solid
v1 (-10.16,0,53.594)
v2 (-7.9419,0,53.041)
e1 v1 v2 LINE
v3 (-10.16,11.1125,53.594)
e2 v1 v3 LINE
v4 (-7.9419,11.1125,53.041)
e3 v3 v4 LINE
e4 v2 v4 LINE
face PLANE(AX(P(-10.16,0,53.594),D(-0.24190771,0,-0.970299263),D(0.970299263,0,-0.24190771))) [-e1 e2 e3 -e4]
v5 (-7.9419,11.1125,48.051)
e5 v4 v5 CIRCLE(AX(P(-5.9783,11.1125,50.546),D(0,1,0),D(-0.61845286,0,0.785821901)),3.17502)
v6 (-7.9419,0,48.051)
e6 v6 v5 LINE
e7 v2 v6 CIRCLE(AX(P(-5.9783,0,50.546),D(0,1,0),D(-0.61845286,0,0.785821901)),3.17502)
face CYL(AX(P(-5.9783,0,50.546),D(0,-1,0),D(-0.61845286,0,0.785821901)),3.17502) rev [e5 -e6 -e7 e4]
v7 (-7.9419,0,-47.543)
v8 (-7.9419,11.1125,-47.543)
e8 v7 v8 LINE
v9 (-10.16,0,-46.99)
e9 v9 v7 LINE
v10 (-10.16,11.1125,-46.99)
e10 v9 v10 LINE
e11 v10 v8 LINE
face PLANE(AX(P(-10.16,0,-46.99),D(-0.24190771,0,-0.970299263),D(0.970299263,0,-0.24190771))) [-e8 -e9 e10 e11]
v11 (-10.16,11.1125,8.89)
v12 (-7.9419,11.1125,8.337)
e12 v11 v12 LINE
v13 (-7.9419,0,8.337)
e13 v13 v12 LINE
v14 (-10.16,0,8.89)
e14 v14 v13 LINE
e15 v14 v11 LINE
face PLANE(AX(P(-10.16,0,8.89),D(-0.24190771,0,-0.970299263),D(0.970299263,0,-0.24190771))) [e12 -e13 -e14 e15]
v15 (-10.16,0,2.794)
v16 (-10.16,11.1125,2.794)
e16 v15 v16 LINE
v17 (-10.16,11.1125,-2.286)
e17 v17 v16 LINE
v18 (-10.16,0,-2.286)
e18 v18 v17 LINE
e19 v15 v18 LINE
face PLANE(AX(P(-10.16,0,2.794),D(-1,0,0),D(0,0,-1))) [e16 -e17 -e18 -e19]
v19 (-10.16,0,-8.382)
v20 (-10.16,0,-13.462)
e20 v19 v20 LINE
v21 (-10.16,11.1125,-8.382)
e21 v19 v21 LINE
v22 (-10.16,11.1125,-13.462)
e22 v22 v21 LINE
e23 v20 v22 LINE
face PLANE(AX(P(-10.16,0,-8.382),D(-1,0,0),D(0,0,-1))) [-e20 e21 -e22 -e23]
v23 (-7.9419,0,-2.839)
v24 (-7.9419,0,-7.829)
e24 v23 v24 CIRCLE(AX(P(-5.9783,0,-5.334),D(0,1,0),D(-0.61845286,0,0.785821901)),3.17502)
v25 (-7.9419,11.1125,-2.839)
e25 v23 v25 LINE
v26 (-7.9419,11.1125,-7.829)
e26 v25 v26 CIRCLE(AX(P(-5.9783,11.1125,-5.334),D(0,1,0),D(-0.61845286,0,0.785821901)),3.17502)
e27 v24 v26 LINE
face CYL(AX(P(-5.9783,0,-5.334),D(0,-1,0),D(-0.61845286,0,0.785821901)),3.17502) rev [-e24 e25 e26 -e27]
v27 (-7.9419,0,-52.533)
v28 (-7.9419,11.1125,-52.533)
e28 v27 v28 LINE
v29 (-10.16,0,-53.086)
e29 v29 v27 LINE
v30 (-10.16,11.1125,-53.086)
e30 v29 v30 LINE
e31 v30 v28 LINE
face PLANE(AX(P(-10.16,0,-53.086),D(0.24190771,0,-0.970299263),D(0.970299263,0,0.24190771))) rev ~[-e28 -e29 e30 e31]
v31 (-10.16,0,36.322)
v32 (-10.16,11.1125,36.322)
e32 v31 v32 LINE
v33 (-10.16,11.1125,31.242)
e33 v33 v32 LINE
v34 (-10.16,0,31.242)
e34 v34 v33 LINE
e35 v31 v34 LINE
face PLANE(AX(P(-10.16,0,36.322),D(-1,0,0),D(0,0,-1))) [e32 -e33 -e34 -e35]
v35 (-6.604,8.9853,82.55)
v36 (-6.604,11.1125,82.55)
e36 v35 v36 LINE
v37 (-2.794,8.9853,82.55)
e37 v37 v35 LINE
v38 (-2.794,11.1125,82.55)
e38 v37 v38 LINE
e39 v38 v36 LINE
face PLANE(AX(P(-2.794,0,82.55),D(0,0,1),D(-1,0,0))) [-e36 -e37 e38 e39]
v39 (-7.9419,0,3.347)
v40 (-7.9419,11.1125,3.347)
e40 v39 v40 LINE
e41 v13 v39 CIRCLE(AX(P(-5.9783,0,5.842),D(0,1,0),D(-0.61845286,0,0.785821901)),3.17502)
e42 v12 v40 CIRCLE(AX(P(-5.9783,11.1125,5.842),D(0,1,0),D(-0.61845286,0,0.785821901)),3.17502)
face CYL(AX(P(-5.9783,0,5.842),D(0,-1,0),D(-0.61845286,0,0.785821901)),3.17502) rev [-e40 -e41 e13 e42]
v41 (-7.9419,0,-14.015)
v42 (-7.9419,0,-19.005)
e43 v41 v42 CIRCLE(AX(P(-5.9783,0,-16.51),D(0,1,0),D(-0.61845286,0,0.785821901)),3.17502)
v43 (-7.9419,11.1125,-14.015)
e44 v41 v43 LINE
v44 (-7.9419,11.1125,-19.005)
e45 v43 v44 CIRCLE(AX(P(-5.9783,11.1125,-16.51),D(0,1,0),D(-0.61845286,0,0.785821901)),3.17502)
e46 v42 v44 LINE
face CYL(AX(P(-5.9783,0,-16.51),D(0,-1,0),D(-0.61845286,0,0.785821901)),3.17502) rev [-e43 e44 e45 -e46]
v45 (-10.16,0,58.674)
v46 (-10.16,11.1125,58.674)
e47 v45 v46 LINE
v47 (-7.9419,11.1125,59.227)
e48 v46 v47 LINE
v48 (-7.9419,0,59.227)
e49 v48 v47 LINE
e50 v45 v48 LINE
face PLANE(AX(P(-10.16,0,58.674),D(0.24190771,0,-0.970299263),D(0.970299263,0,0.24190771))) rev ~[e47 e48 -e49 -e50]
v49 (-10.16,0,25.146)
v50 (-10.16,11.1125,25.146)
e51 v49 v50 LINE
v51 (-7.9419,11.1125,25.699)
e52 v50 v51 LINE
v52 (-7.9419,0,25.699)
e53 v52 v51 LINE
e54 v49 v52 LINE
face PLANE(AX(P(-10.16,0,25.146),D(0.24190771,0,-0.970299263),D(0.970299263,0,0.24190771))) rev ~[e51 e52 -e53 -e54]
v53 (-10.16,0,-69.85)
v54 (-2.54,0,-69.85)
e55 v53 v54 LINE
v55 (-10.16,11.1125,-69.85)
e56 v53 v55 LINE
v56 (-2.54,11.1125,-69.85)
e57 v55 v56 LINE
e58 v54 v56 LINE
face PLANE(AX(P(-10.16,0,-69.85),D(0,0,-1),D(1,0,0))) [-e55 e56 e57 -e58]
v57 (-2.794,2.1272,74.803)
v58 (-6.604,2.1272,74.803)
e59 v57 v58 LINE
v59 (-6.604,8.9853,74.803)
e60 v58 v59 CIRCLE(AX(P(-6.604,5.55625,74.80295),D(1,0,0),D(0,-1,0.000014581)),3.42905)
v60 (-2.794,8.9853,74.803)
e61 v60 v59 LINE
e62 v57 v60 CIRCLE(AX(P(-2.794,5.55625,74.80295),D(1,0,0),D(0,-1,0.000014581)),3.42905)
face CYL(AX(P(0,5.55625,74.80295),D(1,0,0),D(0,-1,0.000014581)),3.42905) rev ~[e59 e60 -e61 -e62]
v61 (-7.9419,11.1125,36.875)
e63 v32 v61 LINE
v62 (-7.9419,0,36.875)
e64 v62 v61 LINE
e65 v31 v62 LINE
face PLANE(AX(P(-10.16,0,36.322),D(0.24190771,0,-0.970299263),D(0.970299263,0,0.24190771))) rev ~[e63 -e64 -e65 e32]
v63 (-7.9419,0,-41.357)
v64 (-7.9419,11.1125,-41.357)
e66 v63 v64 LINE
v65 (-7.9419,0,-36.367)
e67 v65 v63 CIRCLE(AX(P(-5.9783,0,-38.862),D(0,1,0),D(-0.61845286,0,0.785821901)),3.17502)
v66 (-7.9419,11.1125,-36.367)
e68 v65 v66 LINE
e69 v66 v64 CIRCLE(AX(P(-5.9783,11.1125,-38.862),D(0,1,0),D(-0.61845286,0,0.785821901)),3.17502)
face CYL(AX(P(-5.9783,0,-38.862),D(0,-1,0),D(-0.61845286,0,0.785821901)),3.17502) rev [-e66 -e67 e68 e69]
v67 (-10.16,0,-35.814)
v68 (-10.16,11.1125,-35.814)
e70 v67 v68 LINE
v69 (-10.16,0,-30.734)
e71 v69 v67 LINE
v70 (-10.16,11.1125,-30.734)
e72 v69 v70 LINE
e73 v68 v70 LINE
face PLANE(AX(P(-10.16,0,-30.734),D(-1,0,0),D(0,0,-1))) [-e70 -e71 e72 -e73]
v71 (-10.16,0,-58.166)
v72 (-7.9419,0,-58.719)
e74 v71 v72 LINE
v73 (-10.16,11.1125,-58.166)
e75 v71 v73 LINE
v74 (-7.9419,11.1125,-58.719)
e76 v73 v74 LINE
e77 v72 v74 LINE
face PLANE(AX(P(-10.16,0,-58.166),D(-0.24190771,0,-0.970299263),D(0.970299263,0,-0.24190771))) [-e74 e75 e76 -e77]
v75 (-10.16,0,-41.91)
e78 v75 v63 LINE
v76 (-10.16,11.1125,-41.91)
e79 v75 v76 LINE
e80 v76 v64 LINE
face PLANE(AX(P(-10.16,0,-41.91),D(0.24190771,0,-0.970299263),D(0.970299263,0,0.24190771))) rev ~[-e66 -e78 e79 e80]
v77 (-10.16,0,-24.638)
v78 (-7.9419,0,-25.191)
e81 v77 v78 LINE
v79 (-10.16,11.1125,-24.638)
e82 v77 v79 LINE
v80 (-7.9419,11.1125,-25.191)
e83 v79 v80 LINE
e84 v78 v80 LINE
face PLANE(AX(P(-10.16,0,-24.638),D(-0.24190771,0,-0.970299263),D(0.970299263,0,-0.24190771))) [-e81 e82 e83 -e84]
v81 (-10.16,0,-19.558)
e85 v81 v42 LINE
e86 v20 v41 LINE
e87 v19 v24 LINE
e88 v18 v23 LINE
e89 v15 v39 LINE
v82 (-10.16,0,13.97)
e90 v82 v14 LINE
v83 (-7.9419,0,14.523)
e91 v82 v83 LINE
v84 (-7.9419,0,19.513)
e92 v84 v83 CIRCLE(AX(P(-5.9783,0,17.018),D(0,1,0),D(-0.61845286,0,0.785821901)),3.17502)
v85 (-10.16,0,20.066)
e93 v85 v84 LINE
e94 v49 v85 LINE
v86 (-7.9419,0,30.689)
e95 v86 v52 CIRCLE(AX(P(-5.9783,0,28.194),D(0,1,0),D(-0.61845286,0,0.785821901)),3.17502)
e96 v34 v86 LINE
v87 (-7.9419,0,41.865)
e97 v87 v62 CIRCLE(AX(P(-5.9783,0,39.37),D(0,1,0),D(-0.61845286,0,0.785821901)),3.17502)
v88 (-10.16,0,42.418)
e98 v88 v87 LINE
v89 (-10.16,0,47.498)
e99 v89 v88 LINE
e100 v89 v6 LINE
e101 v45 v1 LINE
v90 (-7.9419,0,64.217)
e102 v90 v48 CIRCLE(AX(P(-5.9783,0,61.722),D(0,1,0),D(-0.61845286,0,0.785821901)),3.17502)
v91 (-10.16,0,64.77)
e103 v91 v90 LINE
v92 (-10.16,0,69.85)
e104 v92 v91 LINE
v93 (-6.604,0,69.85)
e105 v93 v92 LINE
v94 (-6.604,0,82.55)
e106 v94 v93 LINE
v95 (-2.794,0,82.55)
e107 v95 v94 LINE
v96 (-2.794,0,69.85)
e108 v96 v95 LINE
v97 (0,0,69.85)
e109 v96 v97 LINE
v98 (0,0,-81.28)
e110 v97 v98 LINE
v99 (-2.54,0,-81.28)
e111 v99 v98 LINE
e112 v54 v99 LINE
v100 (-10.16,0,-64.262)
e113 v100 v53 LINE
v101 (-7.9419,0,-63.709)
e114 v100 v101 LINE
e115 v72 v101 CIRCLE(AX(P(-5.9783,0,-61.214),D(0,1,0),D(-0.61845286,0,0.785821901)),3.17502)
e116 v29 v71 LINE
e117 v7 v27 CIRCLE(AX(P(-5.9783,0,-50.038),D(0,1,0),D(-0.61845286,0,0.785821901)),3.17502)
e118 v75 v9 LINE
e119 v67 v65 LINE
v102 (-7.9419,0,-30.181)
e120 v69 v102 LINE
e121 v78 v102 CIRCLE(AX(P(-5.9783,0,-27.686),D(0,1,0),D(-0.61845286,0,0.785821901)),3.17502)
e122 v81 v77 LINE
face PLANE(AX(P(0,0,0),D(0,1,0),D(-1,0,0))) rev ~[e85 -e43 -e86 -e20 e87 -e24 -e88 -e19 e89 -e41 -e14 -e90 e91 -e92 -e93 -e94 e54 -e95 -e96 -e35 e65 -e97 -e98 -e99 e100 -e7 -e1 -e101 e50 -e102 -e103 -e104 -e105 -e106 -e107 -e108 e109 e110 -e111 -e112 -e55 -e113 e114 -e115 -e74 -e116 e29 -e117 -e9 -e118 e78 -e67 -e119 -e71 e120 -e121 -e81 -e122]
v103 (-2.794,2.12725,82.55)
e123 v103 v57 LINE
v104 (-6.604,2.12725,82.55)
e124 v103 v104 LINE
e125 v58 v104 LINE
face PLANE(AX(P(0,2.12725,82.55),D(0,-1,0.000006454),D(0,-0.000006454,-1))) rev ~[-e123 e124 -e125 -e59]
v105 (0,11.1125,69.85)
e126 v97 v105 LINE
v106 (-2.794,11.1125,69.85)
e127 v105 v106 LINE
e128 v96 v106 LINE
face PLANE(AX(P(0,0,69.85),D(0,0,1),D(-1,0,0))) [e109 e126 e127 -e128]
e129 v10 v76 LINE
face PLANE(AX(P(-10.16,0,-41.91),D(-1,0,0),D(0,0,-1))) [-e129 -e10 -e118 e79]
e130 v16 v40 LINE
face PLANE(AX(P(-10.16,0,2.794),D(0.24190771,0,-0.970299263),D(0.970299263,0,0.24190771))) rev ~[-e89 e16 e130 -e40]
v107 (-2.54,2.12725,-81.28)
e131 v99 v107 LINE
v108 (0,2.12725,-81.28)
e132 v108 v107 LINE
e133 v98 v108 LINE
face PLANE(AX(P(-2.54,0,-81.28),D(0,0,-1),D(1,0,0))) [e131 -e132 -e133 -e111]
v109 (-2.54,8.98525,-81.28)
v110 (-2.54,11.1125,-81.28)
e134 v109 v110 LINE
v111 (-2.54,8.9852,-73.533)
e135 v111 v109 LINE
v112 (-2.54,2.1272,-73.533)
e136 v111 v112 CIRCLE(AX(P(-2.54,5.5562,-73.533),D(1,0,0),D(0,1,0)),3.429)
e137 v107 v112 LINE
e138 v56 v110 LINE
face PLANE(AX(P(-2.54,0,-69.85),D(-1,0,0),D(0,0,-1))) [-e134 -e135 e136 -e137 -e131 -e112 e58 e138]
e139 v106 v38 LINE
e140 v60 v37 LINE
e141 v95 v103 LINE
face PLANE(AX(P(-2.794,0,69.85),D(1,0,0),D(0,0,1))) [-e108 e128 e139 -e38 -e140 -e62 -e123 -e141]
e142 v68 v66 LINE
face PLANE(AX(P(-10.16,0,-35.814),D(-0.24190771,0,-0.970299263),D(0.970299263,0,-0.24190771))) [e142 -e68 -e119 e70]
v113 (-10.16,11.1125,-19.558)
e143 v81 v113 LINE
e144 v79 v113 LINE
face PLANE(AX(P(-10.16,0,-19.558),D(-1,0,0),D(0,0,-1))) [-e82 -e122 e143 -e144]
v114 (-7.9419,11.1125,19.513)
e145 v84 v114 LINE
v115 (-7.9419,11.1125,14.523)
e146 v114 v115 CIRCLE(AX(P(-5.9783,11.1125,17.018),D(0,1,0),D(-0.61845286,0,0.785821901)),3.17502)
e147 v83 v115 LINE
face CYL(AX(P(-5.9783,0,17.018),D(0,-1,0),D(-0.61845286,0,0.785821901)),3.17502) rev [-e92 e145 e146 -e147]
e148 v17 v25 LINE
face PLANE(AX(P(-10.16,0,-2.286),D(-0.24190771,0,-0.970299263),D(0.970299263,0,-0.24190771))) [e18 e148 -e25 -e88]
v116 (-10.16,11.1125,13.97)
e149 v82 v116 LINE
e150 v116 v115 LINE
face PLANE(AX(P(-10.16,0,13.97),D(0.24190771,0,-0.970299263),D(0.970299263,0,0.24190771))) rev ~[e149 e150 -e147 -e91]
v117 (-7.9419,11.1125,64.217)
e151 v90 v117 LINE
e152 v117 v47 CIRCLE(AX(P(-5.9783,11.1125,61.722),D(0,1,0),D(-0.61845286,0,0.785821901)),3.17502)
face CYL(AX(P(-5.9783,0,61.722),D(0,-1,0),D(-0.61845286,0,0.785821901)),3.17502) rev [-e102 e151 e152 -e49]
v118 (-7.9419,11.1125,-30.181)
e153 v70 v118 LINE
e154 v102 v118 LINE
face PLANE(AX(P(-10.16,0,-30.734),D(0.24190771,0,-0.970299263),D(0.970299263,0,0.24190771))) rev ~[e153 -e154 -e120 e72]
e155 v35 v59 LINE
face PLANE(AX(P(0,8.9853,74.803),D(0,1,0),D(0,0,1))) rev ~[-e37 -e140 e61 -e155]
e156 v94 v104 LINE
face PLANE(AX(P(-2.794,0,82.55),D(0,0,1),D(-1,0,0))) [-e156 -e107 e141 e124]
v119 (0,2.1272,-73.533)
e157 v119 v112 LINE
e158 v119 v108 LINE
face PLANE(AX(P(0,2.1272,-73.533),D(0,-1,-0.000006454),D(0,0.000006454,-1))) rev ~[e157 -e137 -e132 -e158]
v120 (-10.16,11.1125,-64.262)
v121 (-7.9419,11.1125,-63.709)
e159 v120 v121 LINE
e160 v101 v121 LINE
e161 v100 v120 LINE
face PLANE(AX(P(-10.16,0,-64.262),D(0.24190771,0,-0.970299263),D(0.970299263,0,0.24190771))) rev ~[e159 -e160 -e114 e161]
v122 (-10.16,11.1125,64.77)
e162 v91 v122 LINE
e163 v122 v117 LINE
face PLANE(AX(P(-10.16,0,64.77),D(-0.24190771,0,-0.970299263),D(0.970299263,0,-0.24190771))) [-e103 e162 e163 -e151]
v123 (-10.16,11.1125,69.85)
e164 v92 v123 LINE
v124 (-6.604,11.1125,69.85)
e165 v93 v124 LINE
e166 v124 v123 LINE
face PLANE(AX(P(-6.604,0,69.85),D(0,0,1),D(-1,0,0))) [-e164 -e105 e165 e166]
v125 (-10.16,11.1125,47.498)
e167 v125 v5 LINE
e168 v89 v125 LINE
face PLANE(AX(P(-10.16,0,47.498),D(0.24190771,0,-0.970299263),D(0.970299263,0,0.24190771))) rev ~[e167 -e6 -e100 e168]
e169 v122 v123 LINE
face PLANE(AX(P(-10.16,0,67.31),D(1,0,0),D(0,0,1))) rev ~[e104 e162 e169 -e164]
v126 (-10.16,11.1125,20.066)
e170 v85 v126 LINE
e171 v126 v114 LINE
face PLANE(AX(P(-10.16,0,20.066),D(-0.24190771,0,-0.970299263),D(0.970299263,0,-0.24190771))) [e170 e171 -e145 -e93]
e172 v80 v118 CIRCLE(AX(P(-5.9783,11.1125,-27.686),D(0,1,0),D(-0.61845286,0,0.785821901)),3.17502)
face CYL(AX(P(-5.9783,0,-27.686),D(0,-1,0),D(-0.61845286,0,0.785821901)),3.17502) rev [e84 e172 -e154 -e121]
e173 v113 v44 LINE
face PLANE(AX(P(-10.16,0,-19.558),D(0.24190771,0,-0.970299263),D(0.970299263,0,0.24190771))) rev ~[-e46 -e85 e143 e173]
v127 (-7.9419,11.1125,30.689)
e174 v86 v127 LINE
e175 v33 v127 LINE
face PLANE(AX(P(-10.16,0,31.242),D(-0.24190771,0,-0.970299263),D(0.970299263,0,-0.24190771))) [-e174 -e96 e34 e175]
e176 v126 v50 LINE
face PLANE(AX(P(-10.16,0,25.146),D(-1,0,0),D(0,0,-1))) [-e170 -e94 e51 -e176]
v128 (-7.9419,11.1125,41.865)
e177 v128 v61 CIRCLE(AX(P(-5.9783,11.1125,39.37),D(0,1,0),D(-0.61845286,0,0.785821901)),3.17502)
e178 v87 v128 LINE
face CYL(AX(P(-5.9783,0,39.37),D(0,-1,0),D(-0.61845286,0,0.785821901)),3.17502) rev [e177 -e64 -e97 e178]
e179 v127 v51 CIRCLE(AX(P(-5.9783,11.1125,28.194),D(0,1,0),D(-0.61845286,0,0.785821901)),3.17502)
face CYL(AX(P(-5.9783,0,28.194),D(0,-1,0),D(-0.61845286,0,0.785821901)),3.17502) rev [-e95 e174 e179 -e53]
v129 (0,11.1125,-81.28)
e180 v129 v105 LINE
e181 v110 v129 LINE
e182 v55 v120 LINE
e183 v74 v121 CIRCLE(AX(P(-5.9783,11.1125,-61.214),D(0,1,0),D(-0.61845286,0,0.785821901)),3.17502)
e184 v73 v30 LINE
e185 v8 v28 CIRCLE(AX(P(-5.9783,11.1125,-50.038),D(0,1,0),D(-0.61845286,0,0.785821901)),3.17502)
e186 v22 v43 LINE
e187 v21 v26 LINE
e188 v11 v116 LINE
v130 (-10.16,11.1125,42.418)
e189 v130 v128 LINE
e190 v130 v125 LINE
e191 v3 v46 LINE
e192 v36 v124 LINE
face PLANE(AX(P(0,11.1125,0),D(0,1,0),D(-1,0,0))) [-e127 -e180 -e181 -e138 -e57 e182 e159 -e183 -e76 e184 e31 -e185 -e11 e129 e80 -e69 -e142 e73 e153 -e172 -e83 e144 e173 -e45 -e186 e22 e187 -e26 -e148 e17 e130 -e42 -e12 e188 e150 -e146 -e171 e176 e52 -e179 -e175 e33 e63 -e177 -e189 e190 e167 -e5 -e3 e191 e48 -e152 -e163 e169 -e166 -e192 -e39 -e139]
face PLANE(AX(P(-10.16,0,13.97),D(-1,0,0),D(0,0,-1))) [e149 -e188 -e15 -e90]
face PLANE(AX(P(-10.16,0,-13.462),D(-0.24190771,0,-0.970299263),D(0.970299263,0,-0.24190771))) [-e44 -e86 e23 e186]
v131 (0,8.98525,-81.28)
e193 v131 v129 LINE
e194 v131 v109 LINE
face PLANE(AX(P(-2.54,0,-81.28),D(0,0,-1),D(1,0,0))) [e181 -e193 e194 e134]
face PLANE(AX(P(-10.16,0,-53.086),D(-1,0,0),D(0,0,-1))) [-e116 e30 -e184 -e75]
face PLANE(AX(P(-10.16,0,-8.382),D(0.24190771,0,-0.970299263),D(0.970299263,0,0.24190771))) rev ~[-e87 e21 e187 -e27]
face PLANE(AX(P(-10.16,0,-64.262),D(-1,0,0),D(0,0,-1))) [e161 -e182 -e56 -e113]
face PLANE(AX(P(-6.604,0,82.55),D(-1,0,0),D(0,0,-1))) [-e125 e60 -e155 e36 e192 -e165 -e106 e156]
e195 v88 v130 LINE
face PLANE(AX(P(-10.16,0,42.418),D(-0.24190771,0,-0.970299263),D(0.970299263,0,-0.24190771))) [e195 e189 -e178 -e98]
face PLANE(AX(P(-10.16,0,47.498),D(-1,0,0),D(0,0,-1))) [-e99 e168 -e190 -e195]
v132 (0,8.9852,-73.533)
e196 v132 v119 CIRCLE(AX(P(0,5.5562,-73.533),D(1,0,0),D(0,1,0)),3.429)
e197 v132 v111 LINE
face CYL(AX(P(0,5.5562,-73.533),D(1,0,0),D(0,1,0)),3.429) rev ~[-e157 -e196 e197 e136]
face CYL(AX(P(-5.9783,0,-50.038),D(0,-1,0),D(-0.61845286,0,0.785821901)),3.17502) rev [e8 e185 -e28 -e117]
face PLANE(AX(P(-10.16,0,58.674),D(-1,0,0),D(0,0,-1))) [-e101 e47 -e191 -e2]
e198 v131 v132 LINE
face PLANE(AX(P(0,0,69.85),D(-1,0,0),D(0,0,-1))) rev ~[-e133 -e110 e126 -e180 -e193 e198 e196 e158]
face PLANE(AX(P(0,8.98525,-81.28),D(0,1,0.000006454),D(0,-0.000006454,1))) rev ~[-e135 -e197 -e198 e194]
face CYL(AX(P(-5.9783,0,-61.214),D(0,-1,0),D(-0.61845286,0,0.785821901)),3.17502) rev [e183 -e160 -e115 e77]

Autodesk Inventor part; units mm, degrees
ref_plane "YZ Plane" through (0, 0, 0) normal (1, 0, 0) x (0, 1, 0)
ref_plane "XZ Plane" through (0, 0, 0) normal (0, 1, 0) x (-1, 0, 0)
ref_plane "XY Plane" through (0, 0, 0) normal (0, 0, 1) x (1, 0, 0)
sketch "Sketch1" plane through (0, 0, 0) normal (0, 1, 0) x (-1, 0, 0)
  line L0 (0, 69.85) -> (0, -69.85)
  line L1 (2.54, 69.85) -> (10.16, 69.85)
  line L2 (10.16, 67.31) -> (10.16, 64.77)
  line L3 (10.16, 64.77) -> (7.9419, 64.217)
  line L4 (10.16, 58.674) -> (7.9419, 59.227)
  arc A0 (7.9419, 64.217) -> (7.9419, 59.227) centre (5.9783, 61.722) ccw
  line L5 (0, 69.85) -> (2.54, 69.85)
  line L6 (6.604, 69.85) -> (2.794, 69.85)
  line L7 (2.794, 69.85) -> (2.794, 82.55)
  line L8 (2.794, 82.55) -> (6.604, 82.55)
  line L9 (6.604, 82.55) -> (6.604, 69.85)
  line L10 (2.54, -69.85) -> (2.54, -81.28)
  line L11 (2.54, -81.28) -> (0, -81.28)
  line L12 (0, -81.28) -> (0, -69.85)
  line L13 (5.9783, 61.722) -> (7.9419, 61.722) construction
  line L14 (7.9419, 61.722) -> (7.9419, 59.227) construction
  line L15 (7.9419, 61.722) -> (7.9419, 64.217) construction
  line L16 (10.16, 67.31) -> (10.16, 69.85)
  line L17 (10.16, -66.802) -> (10.16, -69.85)
  line L18 (10.16, -69.85) -> (2.54, -69.85)
  line L19 (10.16, 58.674) -> (10.16, 56.134)
  line L20 (10.16, 56.134) -> (10.16, 53.594)
  line L21 (10.16, 53.594) -> (7.9419, 53.041)
  line L22 (7.9419, 50.546) -> (7.9419, 53.041) construction
  arc A1 (7.9419, 53.041) -> (7.9419, 48.051) centre (5.9783, 50.546) ccw
  line L23 (7.9419, 50.546) -> (7.9419, 48.051) construction
  line L24 (10.16, 47.498) -> (7.9419, 48.051)
  line L25 (10.16, 47.498) -> (10.16, 44.958)
  line L26 (5.9783, 50.546) -> (7.9419, 50.546) construction
  line L27 (10.16, 44.958) -> (10.16, 42.418)
  line L28 (10.16, 42.418) -> (7.9419, 41.865)
  line L29 (7.9419, 39.37) -> (7.9419, 41.865) construction
  arc A2 (7.9419, 41.865) -> (7.9419, 36.875) centre (5.9783, 39.37) ccw
  line L30 (7.9419, 39.37) -> (7.9419, 36.875) construction
  line L31 (10.16, 36.322) -> (7.9419, 36.875)
  line L32 (10.16, 36.322) -> (10.16, 33.782)
  line L33 (5.9783, 39.37) -> (7.9419, 39.37) construction
  line L34 (10.16, 33.782) -> (10.16, 31.242)
  line L35 (10.16, 31.242) -> (7.9419, 30.689)
  line L36 (7.9419, 28.194) -> (7.9419, 30.689) construction
  arc A3 (7.9419, 30.689) -> (7.9419, 25.699) centre (5.9783, 28.194) ccw
  line L37 (7.9419, 28.194) -> (7.9419, 25.699) construction
  line L38 (10.16, 25.146) -> (7.9419, 25.699)
  line L39 (10.16, 25.146) -> (10.16, 22.606)
  line L40 (5.9783, 28.194) -> (7.9419, 28.194) construction
  line L41 (10.16, 22.606) -> (10.16, 20.066)
  line L42 (10.16, 20.066) -> (7.9419, 19.513)
  line L43 (7.9419, 17.018) -> (7.9419, 19.513) construction
  arc A4 (7.9419, 19.513) -> (7.9419, 14.523) centre (5.9783, 17.018) ccw
  line L44 (7.9419, 17.018) -> (7.9419, 14.523) construction
  line L45 (10.16, 13.97) -> (7.9419, 14.523)
  line L46 (10.16, 13.97) -> (10.16, 11.43)
  line L47 (5.9783, 17.018) -> (7.9419, 17.018) construction
  line L48 (10.16, 11.43) -> (10.16, 8.89)
  line L49 (10.16, 8.89) -> (7.9419, 8.337)
  line L50 (7.9419, 5.842) -> (7.9419, 8.337) construction
  arc A5 (7.9419, 8.337) -> (7.9419, 3.347) centre (5.9783, 5.842) ccw
  line L51 (7.9419, 5.842) -> (7.9419, 3.347) construction
  line L52 (10.16, 2.794) -> (7.9419, 3.347)
  line L53 (10.16, 2.794) -> (10.16, 0.254)
  line L54 (5.9783, 5.842) -> (7.9419, 5.842) construction
  line L55 (10.16, 0.254) -> (10.16, -2.286)
  line L56 (10.16, -2.286) -> (7.9419, -2.839)
  line L57 (7.9419, -5.334) -> (7.9419, -2.839) construction
  arc A6 (7.9419, -2.839) -> (7.9419, -7.829) centre (5.9783, -5.334) ccw
  line L58 (7.9419, -5.334) -> (7.9419, -7.829) construction
  line L59 (10.16, -8.382) -> (7.9419, -7.829)
  line L60 (10.16, -8.382) -> (10.16, -10.922)
  line L61 (5.9783, -5.334) -> (7.9419, -5.334) construction
  line L62 (10.16, -10.922) -> (10.16, -13.462)
  line L63 (10.16, -13.462) -> (7.9419, -14.015)
  line L64 (7.9419, -16.51) -> (7.9419, -14.015) construction
  arc A7 (7.9419, -14.015) -> (7.9419, -19.005) centre (5.9783, -16.51) ccw
  line L65 (7.9419, -16.51) -> (7.9419, -19.005) construction
  line L66 (10.16, -19.558) -> (7.9419, -19.005)
  line L67 (10.16, -19.558) -> (10.16, -22.098)
  line L68 (5.9783, -16.51) -> (7.9419, -16.51) construction
  line L69 (10.16, -22.098) -> (10.16, -24.638)
  line L70 (10.16, -24.638) -> (7.9419, -25.191)
  line L71 (7.9419, -27.686) -> (7.9419, -25.191) construction
  arc A8 (7.9419, -25.191) -> (7.9419, -30.181) centre (5.9783, -27.686) ccw
  line L72 (7.9419, -27.686) -> (7.9419, -30.181) construction
  line L73 (10.16, -30.734) -> (7.9419, -30.181)
  line L74 (10.16, -30.734) -> (10.16, -33.274)
  line L75 (5.9783, -27.686) -> (7.9419, -27.686) construction
  line L76 (10.16, -33.274) -> (10.16, -35.814)
  line L77 (10.16, -35.814) -> (7.9419, -36.367)
  line L78 (7.9419, -38.862) -> (7.9419, -36.367) construction
  arc A9 (7.9419, -36.367) -> (7.9419, -41.357) centre (5.9783, -38.862) ccw
  line L79 (7.9419, -38.862) -> (7.9419, -41.357) construction
  line L80 (10.16, -41.91) -> (7.9419, -41.357)
  line L81 (10.16, -41.91) -> (10.16, -44.45)
  line L82 (5.9783, -38.862) -> (7.9419, -38.862) construction
  line L83 (10.16, -44.45) -> (10.16, -46.99)
  line L84 (10.16, -46.99) -> (7.9419, -47.543)
  line L85 (7.9419, -50.038) -> (7.9419, -47.543) construction
  arc A10 (7.9419, -47.543) -> (7.9419, -52.533) centre (5.9783, -50.038) ccw
  line L86 (7.9419, -50.038) -> (7.9419, -52.533) construction
  line L87 (10.16, -53.086) -> (7.9419, -52.533)
  line L88 (10.16, -53.086) -> (10.16, -55.626)
  line L89 (5.9783, -50.038) -> (7.9419, -50.038) construction
  line L90 (10.16, -55.626) -> (10.16, -58.166)
  line L91 (10.16, -58.166) -> (7.9419, -58.719)
  line L92 (7.9419, -61.214) -> (7.9419, -58.719) construction
  arc A11 (7.9419, -58.719) -> (7.9419, -63.709) centre (5.9783, -61.214) ccw
  line L93 (7.9419, -61.214) -> (7.9419, -63.709) construction
  line L94 (10.16, -64.262) -> (7.9419, -63.709)
  line L95 (10.16, -64.262) -> (10.16, -66.802)
  line L96 (5.9783, -61.214) -> (7.9419, -61.214) construction
  point P0 (0, 0)
  point P1 (2.794, 69.85)
  dimension "d1" = 7.62
  dimension "d5" = 104
  dimension "d7" = 3.175
  dimension "d8" = 2.286
  dimension "d12" = 2.54
  dimension "d27" = 12.7
  dimension "d28" = 3.81
  dimension "d29" = 2.794
  dimension "d66" = 139.7
  dimension "d67" = 69.85
  dimension "d76" = 10.16
  dimension "d77" = 2.54
  dimension "d87" = 11.43
  dimension "d88" = 2.54
  dimension "d89" = 4.9899
  dimension "d90" = 2.54
  dimension "d91" = 11.176
  dimension "d94" = 11.176
extrude "Extrusion1" add sketch "Sketch1" along normal blind 11.1125
sketch "Sketch3" plane through (0, 0, 69.85) normal (1, 0, 0) x (0, 0, -1)
  line L0 (158.877, 5.5563) -> (143.383, 5.5562) construction
  line L1 (158.877, 8.9853) -> (143.383, 8.9852)
  line L2 (143.383, 2.1272) -> (158.877, 2.1273)
  arc A0 (158.877, 2.1273) -> (158.877, 8.9853) centre (158.877, 5.5563) ccw
  arc A1 (143.383, 8.9852) -> (143.383, 2.1272) centre (143.383, 5.5562) ccw
  line L3 (151.13, 0) -> (151.13, 11.1125) projected
  line L4 (0, 11.1125) -> (151.13, 11.1125) projected
  line L5 (-20.447, 5.5563) -> (-4.953, 5.5563) construction
  line L6 (-20.447, 2.1273) -> (-4.953, 2.1272)
  line L7 (-4.953, 8.9853) -> (-20.447, 8.9853)
  arc A2 (-20.447, 8.9853) -> (-20.447, 2.1273) centre (-20.447, 5.5563) ccw
  arc A3 (-4.953, 2.1272) -> (-4.953, 8.9853) centre (-4.953, 5.5563) ccw
  line L8 (-12.7, 0) -> (-12.7, 11.1125) projected
  point P0 (69.85, 0)
  point P1 (151.13, 5.5563)
  point P2 (-12.7, 5.5563)
  point P3 (-12.7, 8.9853)
  point P4 (-12.7, 2.1272)
  point P5 (151.13, 2.1272)
  point P6 (151.13, 8.9853)
  dimension "d45" = 11.1125
  dimension "d46" = 5.5563
  dimension "d47" = 7.747
  dimension "d48" = 7.747
  dimension "d49" = 6.858
  dimension "d50" = 6.858
extrude "Extrusion2" cut sketch "Sketch3" against normal through all contours L3 L2 A1 L1 | L8 L7 A3 L6
properties part number "Hose Clamp V4" material "ABS Plastic"
